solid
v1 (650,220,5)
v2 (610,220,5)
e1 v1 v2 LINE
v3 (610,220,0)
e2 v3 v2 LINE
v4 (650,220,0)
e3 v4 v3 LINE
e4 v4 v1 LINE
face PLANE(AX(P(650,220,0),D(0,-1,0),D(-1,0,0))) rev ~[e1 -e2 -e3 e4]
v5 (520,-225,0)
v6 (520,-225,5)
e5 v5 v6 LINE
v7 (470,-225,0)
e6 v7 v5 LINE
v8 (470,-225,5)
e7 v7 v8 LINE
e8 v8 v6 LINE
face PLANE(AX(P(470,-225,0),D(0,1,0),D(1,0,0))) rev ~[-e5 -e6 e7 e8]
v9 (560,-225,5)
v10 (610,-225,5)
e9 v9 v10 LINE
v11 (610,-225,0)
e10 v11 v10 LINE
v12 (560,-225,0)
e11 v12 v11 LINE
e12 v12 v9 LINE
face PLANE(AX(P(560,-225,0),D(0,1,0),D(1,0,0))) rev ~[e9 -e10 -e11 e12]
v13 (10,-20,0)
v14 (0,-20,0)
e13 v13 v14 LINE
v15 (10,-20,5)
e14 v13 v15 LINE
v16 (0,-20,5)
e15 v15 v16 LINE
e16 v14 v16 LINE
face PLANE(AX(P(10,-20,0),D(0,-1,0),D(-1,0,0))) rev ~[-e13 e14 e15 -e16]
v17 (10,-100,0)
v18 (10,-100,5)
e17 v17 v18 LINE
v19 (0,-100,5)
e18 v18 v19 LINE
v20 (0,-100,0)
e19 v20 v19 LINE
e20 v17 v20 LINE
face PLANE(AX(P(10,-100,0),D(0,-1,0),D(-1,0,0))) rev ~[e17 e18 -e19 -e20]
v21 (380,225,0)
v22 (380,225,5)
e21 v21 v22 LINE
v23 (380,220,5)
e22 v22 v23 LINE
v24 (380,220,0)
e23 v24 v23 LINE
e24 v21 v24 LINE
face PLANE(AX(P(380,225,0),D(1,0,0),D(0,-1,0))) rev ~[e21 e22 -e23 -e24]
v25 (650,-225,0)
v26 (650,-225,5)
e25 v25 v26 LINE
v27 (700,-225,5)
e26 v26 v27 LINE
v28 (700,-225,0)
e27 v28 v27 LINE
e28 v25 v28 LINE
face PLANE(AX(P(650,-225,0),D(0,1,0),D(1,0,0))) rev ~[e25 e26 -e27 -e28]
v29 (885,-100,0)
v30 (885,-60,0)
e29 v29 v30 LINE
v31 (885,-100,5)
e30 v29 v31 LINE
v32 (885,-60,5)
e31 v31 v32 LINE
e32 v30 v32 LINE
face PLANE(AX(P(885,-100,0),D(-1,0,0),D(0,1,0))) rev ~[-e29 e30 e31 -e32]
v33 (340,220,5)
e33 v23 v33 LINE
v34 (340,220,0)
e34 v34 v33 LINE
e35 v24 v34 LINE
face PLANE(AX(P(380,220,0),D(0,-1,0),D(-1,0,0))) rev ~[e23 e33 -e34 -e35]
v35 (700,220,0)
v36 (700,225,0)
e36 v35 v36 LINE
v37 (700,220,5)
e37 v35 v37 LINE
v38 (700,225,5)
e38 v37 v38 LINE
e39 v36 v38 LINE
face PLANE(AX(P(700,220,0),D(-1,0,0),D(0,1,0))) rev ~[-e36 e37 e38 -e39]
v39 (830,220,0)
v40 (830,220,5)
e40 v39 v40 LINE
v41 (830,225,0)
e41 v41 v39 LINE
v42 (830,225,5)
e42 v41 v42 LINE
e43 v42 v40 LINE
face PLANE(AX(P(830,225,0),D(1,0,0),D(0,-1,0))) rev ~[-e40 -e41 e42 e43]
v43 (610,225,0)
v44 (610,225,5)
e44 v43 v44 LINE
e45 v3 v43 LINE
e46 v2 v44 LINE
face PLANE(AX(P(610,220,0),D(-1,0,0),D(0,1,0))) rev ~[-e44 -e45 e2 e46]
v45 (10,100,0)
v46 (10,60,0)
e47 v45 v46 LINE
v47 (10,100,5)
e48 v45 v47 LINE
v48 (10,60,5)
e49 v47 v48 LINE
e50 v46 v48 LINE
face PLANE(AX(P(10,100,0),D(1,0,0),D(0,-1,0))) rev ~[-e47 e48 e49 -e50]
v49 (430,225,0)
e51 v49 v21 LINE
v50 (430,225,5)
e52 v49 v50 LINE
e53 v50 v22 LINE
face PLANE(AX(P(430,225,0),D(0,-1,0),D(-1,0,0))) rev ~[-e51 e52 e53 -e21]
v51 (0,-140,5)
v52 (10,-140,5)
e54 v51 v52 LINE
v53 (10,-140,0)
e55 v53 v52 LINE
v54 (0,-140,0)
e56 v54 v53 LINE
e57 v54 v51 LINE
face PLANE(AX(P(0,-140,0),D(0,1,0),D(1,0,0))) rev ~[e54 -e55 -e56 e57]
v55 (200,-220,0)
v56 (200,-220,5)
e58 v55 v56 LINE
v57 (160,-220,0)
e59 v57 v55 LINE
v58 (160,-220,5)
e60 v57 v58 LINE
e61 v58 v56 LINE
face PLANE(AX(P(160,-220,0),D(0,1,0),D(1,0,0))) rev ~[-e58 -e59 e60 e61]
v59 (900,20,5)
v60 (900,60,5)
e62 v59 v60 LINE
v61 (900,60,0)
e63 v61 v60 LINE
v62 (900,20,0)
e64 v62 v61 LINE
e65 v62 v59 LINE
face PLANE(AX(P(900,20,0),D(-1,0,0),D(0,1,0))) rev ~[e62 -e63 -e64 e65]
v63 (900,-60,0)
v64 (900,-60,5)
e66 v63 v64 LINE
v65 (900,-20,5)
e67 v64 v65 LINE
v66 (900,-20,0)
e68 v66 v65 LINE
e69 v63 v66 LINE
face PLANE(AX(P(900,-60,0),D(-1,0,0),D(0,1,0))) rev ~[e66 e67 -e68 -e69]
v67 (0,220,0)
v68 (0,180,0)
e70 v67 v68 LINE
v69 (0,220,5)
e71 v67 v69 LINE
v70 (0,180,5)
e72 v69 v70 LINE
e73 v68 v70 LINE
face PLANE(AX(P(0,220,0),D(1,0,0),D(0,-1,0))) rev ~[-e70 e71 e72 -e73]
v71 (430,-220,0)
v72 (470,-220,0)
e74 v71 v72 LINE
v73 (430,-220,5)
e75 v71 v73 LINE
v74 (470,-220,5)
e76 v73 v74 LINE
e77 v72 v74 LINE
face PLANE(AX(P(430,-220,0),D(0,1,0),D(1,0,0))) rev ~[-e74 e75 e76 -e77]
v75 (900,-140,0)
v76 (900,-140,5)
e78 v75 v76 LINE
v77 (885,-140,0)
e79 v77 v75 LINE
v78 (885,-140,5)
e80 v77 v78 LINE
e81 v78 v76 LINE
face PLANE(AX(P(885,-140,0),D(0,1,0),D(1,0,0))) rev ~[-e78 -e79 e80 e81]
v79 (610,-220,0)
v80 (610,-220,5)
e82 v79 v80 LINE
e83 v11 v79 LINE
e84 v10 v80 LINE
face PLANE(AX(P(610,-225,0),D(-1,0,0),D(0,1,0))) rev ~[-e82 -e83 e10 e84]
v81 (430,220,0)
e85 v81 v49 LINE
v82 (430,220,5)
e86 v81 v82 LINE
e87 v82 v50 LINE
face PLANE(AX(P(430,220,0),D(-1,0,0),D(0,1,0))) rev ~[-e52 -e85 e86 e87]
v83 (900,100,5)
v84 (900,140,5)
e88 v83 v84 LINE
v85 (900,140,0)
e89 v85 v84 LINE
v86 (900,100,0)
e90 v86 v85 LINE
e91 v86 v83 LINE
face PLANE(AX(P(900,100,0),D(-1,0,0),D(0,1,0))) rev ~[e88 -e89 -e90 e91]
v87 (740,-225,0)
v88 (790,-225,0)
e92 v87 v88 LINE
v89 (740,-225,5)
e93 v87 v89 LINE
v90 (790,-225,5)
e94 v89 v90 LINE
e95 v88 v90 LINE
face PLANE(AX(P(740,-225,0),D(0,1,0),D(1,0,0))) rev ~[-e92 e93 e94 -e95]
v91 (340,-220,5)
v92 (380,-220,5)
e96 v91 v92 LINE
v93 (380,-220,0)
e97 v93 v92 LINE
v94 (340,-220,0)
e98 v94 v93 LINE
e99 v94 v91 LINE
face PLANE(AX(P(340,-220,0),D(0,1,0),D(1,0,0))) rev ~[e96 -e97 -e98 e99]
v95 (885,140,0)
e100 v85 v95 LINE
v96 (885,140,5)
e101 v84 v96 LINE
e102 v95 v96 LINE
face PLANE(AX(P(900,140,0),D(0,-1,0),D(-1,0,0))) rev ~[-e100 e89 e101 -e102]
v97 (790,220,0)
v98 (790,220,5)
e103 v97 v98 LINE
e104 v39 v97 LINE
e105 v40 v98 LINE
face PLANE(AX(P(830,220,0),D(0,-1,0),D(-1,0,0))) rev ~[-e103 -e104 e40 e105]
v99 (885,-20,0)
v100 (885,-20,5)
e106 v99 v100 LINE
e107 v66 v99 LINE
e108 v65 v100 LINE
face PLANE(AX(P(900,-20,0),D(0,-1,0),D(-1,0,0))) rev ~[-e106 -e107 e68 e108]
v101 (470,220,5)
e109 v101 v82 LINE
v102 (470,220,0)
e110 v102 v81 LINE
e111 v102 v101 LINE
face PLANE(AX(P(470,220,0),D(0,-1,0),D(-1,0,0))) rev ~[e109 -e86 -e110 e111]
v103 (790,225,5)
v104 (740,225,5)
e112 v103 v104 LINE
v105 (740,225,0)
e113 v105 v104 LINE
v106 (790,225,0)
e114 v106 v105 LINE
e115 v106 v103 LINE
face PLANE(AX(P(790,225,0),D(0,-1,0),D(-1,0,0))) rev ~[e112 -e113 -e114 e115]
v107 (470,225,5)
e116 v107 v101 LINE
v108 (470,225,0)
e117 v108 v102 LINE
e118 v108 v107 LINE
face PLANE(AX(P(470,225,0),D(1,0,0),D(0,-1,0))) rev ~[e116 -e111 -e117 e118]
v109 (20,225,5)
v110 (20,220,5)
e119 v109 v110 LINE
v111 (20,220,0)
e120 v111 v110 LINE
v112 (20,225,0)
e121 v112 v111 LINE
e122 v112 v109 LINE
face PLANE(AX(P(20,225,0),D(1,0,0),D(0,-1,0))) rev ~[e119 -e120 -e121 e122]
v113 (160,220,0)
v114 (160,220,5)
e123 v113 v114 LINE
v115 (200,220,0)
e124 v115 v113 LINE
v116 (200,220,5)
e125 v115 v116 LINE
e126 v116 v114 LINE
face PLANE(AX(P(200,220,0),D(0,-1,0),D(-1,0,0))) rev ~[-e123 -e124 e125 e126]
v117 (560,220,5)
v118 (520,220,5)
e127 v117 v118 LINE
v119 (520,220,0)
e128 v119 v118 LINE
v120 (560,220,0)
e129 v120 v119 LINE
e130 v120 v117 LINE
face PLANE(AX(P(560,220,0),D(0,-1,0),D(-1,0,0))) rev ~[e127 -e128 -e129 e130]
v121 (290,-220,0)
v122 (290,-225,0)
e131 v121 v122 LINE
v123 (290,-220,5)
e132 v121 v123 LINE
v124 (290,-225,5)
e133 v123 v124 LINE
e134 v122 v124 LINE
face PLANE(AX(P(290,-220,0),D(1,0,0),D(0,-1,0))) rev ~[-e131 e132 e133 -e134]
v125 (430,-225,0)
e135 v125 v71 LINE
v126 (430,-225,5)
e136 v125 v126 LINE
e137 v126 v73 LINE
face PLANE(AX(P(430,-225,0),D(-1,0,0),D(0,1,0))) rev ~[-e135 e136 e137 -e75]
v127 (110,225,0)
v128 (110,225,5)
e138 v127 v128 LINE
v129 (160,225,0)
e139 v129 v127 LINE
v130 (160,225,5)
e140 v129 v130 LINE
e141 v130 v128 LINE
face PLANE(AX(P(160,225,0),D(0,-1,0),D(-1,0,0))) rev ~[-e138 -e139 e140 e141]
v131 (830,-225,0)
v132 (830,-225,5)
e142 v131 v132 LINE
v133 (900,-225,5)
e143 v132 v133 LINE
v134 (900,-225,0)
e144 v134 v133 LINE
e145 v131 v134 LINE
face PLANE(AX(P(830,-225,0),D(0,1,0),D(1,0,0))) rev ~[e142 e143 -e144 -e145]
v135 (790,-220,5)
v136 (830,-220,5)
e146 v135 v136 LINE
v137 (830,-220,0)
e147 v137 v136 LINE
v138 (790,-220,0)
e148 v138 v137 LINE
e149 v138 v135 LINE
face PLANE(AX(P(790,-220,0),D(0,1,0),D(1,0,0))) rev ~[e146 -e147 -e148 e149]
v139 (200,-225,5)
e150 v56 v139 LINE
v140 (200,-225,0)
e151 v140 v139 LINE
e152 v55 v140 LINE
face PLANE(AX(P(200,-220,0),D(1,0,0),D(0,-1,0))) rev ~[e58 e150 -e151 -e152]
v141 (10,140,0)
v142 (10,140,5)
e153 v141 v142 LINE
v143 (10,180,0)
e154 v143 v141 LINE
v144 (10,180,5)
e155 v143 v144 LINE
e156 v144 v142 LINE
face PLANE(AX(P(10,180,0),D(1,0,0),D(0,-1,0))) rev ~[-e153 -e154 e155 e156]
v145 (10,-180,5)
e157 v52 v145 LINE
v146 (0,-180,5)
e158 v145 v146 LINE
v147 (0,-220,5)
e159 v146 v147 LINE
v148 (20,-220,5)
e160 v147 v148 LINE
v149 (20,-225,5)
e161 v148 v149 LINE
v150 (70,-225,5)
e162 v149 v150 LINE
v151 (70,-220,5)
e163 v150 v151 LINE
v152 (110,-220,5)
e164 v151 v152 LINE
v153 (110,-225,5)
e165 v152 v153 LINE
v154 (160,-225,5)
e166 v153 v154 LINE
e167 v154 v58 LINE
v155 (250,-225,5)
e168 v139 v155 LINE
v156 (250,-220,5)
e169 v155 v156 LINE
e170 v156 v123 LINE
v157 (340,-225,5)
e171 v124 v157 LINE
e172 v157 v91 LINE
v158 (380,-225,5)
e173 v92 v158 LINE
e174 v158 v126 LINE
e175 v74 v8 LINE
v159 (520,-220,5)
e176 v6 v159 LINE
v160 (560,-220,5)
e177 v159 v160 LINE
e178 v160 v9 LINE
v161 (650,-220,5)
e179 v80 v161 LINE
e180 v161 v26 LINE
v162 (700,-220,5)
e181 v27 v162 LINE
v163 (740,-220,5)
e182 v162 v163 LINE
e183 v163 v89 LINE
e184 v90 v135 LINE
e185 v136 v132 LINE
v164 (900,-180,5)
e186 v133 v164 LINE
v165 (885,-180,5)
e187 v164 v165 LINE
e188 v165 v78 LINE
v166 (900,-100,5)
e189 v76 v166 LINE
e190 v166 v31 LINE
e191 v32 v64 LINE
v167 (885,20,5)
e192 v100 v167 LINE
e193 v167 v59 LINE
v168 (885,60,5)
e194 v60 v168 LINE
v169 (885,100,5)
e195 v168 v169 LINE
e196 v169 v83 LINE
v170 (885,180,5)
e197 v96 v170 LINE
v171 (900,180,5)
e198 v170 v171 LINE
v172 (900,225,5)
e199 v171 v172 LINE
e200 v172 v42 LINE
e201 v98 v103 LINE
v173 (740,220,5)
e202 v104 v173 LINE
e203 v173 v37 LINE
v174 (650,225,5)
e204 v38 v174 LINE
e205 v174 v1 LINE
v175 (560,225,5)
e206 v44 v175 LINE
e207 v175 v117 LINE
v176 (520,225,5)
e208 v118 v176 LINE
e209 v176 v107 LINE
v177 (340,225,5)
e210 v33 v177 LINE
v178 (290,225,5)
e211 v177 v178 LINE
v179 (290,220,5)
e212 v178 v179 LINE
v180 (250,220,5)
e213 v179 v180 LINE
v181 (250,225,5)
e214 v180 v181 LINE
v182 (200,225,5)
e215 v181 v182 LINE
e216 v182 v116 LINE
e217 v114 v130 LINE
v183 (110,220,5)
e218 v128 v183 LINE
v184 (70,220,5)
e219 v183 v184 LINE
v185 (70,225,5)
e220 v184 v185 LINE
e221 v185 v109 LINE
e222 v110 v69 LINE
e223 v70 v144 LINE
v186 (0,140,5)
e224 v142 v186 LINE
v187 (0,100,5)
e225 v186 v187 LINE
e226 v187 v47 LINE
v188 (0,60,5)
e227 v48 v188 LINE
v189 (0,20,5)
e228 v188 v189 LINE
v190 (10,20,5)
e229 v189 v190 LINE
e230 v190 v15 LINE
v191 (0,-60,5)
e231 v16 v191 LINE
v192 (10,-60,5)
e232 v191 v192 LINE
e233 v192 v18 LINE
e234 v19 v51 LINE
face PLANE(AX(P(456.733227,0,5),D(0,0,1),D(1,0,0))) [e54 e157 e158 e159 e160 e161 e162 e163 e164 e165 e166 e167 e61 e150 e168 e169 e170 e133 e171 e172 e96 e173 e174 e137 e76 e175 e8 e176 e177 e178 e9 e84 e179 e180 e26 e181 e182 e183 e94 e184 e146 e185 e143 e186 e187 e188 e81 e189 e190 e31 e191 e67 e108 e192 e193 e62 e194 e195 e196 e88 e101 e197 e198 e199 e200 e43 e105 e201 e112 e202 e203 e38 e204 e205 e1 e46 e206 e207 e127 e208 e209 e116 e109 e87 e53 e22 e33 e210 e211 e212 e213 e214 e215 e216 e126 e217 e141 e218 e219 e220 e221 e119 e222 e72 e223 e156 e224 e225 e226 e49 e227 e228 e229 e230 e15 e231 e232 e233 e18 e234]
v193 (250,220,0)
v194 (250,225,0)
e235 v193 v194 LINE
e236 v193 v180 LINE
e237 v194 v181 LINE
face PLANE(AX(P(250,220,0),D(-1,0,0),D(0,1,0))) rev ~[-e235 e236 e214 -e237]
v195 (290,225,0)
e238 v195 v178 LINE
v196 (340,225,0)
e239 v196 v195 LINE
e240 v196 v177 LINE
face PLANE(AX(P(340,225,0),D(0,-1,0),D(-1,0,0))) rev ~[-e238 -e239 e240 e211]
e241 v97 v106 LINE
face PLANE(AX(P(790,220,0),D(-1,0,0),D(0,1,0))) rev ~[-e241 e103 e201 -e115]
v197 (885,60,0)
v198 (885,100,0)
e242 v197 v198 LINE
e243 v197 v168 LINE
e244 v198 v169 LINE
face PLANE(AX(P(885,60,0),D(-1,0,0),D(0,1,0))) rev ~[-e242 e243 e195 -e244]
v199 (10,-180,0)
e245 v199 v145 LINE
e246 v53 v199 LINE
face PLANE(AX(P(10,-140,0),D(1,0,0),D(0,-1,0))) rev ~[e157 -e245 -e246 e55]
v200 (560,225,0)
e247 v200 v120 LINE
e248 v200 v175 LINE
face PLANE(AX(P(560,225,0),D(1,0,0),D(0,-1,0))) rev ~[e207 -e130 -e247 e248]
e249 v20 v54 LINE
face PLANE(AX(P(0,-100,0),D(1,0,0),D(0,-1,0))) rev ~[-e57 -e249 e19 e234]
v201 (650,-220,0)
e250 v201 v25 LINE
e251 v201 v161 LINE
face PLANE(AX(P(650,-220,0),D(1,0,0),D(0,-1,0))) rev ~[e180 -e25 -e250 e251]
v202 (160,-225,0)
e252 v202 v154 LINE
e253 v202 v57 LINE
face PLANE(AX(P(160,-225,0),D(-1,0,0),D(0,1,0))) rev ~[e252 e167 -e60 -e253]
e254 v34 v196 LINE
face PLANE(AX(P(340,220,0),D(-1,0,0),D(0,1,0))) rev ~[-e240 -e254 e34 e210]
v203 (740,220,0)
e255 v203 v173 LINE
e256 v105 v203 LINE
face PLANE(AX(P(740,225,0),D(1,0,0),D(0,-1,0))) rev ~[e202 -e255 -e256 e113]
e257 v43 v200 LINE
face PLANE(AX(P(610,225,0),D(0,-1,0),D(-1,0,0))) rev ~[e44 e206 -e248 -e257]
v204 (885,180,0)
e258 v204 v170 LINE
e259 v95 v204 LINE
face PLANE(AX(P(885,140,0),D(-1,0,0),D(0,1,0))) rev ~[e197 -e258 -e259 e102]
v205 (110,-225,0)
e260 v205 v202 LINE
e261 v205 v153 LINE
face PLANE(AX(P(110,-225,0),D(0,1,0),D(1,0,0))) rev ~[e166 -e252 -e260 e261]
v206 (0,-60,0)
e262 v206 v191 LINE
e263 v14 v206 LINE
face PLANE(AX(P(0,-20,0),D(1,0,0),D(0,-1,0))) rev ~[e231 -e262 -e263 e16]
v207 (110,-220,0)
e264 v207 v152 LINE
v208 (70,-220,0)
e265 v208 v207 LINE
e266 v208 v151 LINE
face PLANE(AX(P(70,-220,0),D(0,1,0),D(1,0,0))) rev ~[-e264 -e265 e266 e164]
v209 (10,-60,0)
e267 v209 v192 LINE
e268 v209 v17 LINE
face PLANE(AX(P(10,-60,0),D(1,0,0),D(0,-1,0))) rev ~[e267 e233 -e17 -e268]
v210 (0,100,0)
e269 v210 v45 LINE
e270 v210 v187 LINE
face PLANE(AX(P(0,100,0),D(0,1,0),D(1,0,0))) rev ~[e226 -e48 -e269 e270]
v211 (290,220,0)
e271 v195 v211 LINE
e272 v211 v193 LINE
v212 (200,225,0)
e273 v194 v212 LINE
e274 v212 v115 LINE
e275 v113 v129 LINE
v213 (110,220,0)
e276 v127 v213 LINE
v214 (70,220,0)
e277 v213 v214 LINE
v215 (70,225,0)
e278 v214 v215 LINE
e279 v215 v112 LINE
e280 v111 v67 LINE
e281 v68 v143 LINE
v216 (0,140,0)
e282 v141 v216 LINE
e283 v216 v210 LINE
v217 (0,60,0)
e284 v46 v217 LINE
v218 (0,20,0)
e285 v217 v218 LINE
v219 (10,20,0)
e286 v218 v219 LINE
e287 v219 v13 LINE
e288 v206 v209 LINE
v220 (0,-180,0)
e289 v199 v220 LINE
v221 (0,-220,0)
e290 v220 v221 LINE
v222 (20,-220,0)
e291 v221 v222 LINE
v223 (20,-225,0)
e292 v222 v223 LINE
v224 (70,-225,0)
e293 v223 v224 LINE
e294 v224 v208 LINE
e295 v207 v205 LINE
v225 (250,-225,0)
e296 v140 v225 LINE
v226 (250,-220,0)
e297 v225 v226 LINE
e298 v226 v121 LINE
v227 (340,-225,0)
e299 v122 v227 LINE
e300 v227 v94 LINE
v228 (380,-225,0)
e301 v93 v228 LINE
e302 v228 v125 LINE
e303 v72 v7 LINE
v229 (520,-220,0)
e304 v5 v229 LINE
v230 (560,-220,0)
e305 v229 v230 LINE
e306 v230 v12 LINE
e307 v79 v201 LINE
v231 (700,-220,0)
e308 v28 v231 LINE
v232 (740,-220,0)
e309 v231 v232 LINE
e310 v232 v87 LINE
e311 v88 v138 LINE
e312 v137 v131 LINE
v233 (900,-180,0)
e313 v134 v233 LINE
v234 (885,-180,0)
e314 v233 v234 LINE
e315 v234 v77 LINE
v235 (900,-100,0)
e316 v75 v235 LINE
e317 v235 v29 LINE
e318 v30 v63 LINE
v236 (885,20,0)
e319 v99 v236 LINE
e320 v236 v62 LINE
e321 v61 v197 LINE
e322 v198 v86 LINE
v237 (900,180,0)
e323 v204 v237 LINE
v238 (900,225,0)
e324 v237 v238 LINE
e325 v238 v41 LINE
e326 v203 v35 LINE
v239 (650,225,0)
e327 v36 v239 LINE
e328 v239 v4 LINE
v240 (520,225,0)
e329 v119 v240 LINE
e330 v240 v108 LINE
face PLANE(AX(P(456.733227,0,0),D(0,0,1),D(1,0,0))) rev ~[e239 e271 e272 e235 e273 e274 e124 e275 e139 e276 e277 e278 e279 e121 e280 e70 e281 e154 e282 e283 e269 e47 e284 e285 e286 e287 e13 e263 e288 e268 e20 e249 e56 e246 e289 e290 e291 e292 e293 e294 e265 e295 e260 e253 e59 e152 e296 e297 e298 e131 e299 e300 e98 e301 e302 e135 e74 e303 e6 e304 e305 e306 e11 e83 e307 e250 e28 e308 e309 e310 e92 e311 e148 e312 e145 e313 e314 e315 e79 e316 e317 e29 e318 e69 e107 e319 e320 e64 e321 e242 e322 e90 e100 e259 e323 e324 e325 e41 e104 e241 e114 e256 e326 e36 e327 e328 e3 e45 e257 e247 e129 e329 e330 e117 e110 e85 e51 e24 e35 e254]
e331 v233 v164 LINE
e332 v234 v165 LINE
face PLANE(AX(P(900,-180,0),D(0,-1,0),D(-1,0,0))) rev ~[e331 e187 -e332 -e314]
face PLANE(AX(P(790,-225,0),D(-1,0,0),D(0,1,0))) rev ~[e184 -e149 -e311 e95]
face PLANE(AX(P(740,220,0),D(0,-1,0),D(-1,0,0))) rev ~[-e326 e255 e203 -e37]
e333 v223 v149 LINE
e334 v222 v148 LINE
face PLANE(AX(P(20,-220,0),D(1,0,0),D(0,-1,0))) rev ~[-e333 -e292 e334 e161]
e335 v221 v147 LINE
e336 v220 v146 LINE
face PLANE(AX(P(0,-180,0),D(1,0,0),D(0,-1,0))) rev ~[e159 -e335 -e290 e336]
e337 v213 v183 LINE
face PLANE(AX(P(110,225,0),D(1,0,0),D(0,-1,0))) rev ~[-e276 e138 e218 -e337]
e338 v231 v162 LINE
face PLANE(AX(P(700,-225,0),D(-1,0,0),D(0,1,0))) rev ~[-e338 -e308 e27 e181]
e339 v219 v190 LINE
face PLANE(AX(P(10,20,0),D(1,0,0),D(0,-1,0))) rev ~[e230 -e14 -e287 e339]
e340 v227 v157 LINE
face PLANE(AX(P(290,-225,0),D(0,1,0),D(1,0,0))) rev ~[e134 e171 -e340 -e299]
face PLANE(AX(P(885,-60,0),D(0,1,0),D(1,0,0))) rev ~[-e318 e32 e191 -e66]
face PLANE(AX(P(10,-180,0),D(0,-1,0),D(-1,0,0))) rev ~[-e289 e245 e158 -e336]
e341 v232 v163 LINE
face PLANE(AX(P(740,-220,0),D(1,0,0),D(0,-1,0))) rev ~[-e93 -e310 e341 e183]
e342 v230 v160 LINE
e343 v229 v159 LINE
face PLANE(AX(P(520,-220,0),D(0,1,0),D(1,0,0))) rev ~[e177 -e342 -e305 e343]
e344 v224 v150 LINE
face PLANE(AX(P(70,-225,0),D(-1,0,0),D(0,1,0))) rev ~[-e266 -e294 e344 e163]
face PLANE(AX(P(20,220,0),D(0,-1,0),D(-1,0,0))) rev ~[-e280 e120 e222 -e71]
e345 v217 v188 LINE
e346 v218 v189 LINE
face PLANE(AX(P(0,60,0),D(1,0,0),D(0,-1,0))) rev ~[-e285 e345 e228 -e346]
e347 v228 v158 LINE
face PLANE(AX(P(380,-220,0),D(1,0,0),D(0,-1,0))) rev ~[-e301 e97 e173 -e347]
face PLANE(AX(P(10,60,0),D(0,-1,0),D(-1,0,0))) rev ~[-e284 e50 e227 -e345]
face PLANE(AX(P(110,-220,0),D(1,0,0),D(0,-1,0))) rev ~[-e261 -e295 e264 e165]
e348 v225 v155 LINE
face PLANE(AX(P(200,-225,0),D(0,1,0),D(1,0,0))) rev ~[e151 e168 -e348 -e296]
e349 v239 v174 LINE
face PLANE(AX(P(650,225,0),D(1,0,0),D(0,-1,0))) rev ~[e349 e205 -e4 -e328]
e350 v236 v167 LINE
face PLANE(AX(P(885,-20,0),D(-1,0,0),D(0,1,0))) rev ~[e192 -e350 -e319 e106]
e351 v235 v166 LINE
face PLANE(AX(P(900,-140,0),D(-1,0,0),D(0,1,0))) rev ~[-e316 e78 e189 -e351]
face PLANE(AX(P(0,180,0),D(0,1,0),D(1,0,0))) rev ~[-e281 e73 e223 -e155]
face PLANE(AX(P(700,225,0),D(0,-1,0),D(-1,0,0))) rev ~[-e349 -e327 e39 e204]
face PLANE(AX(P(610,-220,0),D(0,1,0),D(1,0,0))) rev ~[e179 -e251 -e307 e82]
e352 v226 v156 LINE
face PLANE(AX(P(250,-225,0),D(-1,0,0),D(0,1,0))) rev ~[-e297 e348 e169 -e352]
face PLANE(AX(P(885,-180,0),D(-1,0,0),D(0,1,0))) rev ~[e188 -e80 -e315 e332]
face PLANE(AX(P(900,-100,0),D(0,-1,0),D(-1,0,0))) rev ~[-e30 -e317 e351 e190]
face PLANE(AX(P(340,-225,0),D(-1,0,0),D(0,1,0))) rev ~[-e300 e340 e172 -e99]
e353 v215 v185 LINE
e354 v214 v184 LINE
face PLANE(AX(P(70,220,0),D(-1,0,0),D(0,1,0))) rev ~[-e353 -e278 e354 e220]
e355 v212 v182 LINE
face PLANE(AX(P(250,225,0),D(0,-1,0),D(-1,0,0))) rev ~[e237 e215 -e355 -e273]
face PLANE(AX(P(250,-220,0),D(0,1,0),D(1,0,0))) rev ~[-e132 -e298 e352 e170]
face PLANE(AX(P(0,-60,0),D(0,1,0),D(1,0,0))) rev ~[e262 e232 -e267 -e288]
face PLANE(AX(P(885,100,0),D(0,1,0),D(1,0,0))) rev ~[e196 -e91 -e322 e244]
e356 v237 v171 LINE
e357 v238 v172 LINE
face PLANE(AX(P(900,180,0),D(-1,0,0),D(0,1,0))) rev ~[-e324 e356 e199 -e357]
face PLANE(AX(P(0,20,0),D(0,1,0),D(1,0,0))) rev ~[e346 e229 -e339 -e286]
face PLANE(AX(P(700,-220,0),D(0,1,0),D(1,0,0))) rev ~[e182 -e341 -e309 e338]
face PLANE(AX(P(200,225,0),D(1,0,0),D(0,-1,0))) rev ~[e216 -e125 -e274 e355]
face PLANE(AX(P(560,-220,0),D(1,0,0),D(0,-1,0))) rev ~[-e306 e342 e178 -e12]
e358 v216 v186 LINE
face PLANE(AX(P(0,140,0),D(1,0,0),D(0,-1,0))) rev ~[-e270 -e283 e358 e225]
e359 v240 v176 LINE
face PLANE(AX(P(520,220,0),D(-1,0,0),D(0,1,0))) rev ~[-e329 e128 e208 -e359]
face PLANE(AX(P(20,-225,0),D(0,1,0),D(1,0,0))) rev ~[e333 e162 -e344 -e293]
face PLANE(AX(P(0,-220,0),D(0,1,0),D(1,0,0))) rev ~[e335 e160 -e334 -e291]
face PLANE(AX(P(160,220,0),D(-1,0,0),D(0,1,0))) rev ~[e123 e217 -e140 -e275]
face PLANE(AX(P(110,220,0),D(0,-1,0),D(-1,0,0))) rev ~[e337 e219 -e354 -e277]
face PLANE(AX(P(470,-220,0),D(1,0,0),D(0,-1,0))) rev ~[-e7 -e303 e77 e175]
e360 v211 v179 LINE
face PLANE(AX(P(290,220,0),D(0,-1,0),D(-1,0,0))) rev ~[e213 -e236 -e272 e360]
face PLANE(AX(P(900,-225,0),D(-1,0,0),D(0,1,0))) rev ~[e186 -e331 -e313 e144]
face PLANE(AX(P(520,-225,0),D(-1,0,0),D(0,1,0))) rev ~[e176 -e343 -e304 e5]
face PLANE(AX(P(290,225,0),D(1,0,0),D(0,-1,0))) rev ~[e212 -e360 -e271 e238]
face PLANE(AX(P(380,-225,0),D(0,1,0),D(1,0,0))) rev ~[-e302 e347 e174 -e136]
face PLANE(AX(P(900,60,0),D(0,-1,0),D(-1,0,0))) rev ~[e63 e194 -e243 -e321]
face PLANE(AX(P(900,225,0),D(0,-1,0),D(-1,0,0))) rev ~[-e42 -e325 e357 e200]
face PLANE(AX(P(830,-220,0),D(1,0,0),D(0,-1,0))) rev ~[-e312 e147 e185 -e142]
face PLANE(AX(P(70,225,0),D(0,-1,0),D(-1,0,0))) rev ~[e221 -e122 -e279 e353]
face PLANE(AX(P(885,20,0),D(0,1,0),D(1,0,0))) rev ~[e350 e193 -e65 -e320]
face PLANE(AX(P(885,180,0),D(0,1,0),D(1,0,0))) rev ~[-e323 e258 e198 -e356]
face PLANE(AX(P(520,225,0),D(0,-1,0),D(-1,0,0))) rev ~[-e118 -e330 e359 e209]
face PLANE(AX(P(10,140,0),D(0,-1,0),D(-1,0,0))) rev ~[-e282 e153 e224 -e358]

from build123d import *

# Parameters (mm, degrees)
BOSS_EXTRUDE1_DEPTH = 5


with BuildPart() as part:
    # Sketch1 → Boss-Extrude1 (new body)
    with BuildSketch(Plane.XY):
        Polygon((885, 60), (885, 100), (900, 100), (900, 140), (885, 140), (885, 180), (900, 180), (900, 225), (830, 225), (830, 220), (790, 220), (790, 225), (740, 225), (740, 220), (700, 220), (700, 225), (650, 225), (650, 220), (610, 220), (610, 225), (560, 225), (560, 220), (520, 220), (520, 225), (470, 225), (470, 220), (430, 220), (430, 225), (380, 225), (380, 220), (340, 220), (340, 225), (290, 225), (290, 220), (250, 220), (250, 225), (200, 225), (200, 220), (160, 220), (160, 225), (110, 225), (110, 220), (70, 220), (70, 225), (20, 225), (20, 220), (0, 220), (0, 180), (10, 180), (10, 140), (0, 140), (0, 100), (10, 100), (10, 60), (0, 60), (0, 20), (10, 20), (10, -20), (0, -20), (0, -60), (10, -60), (10, -100), (0, -100), (0, -140), (10, -140), (10, -180), (0, -180), (0, -220), (20, -220), (20, -225), (70, -225), (70, -220), (110, -220), (110, -225), (160, -225), (160, -220), (200, -220), (200, -225), (250, -225), (250, -220), (290, -220), (290, -225), (340, -225), (340, -220), (380, -220), (380, -225), (430, -225), (430, -220), (470, -220), (470, -225), (520, -225), (520, -220), (560, -220), (560, -225), (610, -225), (610, -220), (650, -220), (650, -225), (700, -225), (700, -220), (740, -220), (740, -225), (790, -225), (790, -220), (830, -220), (830, -225), (900, -225), (900, -180), (885, -180), (885, -140), (900, -140), (900, -100), (885, -100), (885, -60), (900, -60), (900, -20), (885, -20), (885, 20), (900, 20), (900, 60), align=None)
    extrude(amount=BOSS_EXTRUDE1_DEPTH)


solid = part.part
